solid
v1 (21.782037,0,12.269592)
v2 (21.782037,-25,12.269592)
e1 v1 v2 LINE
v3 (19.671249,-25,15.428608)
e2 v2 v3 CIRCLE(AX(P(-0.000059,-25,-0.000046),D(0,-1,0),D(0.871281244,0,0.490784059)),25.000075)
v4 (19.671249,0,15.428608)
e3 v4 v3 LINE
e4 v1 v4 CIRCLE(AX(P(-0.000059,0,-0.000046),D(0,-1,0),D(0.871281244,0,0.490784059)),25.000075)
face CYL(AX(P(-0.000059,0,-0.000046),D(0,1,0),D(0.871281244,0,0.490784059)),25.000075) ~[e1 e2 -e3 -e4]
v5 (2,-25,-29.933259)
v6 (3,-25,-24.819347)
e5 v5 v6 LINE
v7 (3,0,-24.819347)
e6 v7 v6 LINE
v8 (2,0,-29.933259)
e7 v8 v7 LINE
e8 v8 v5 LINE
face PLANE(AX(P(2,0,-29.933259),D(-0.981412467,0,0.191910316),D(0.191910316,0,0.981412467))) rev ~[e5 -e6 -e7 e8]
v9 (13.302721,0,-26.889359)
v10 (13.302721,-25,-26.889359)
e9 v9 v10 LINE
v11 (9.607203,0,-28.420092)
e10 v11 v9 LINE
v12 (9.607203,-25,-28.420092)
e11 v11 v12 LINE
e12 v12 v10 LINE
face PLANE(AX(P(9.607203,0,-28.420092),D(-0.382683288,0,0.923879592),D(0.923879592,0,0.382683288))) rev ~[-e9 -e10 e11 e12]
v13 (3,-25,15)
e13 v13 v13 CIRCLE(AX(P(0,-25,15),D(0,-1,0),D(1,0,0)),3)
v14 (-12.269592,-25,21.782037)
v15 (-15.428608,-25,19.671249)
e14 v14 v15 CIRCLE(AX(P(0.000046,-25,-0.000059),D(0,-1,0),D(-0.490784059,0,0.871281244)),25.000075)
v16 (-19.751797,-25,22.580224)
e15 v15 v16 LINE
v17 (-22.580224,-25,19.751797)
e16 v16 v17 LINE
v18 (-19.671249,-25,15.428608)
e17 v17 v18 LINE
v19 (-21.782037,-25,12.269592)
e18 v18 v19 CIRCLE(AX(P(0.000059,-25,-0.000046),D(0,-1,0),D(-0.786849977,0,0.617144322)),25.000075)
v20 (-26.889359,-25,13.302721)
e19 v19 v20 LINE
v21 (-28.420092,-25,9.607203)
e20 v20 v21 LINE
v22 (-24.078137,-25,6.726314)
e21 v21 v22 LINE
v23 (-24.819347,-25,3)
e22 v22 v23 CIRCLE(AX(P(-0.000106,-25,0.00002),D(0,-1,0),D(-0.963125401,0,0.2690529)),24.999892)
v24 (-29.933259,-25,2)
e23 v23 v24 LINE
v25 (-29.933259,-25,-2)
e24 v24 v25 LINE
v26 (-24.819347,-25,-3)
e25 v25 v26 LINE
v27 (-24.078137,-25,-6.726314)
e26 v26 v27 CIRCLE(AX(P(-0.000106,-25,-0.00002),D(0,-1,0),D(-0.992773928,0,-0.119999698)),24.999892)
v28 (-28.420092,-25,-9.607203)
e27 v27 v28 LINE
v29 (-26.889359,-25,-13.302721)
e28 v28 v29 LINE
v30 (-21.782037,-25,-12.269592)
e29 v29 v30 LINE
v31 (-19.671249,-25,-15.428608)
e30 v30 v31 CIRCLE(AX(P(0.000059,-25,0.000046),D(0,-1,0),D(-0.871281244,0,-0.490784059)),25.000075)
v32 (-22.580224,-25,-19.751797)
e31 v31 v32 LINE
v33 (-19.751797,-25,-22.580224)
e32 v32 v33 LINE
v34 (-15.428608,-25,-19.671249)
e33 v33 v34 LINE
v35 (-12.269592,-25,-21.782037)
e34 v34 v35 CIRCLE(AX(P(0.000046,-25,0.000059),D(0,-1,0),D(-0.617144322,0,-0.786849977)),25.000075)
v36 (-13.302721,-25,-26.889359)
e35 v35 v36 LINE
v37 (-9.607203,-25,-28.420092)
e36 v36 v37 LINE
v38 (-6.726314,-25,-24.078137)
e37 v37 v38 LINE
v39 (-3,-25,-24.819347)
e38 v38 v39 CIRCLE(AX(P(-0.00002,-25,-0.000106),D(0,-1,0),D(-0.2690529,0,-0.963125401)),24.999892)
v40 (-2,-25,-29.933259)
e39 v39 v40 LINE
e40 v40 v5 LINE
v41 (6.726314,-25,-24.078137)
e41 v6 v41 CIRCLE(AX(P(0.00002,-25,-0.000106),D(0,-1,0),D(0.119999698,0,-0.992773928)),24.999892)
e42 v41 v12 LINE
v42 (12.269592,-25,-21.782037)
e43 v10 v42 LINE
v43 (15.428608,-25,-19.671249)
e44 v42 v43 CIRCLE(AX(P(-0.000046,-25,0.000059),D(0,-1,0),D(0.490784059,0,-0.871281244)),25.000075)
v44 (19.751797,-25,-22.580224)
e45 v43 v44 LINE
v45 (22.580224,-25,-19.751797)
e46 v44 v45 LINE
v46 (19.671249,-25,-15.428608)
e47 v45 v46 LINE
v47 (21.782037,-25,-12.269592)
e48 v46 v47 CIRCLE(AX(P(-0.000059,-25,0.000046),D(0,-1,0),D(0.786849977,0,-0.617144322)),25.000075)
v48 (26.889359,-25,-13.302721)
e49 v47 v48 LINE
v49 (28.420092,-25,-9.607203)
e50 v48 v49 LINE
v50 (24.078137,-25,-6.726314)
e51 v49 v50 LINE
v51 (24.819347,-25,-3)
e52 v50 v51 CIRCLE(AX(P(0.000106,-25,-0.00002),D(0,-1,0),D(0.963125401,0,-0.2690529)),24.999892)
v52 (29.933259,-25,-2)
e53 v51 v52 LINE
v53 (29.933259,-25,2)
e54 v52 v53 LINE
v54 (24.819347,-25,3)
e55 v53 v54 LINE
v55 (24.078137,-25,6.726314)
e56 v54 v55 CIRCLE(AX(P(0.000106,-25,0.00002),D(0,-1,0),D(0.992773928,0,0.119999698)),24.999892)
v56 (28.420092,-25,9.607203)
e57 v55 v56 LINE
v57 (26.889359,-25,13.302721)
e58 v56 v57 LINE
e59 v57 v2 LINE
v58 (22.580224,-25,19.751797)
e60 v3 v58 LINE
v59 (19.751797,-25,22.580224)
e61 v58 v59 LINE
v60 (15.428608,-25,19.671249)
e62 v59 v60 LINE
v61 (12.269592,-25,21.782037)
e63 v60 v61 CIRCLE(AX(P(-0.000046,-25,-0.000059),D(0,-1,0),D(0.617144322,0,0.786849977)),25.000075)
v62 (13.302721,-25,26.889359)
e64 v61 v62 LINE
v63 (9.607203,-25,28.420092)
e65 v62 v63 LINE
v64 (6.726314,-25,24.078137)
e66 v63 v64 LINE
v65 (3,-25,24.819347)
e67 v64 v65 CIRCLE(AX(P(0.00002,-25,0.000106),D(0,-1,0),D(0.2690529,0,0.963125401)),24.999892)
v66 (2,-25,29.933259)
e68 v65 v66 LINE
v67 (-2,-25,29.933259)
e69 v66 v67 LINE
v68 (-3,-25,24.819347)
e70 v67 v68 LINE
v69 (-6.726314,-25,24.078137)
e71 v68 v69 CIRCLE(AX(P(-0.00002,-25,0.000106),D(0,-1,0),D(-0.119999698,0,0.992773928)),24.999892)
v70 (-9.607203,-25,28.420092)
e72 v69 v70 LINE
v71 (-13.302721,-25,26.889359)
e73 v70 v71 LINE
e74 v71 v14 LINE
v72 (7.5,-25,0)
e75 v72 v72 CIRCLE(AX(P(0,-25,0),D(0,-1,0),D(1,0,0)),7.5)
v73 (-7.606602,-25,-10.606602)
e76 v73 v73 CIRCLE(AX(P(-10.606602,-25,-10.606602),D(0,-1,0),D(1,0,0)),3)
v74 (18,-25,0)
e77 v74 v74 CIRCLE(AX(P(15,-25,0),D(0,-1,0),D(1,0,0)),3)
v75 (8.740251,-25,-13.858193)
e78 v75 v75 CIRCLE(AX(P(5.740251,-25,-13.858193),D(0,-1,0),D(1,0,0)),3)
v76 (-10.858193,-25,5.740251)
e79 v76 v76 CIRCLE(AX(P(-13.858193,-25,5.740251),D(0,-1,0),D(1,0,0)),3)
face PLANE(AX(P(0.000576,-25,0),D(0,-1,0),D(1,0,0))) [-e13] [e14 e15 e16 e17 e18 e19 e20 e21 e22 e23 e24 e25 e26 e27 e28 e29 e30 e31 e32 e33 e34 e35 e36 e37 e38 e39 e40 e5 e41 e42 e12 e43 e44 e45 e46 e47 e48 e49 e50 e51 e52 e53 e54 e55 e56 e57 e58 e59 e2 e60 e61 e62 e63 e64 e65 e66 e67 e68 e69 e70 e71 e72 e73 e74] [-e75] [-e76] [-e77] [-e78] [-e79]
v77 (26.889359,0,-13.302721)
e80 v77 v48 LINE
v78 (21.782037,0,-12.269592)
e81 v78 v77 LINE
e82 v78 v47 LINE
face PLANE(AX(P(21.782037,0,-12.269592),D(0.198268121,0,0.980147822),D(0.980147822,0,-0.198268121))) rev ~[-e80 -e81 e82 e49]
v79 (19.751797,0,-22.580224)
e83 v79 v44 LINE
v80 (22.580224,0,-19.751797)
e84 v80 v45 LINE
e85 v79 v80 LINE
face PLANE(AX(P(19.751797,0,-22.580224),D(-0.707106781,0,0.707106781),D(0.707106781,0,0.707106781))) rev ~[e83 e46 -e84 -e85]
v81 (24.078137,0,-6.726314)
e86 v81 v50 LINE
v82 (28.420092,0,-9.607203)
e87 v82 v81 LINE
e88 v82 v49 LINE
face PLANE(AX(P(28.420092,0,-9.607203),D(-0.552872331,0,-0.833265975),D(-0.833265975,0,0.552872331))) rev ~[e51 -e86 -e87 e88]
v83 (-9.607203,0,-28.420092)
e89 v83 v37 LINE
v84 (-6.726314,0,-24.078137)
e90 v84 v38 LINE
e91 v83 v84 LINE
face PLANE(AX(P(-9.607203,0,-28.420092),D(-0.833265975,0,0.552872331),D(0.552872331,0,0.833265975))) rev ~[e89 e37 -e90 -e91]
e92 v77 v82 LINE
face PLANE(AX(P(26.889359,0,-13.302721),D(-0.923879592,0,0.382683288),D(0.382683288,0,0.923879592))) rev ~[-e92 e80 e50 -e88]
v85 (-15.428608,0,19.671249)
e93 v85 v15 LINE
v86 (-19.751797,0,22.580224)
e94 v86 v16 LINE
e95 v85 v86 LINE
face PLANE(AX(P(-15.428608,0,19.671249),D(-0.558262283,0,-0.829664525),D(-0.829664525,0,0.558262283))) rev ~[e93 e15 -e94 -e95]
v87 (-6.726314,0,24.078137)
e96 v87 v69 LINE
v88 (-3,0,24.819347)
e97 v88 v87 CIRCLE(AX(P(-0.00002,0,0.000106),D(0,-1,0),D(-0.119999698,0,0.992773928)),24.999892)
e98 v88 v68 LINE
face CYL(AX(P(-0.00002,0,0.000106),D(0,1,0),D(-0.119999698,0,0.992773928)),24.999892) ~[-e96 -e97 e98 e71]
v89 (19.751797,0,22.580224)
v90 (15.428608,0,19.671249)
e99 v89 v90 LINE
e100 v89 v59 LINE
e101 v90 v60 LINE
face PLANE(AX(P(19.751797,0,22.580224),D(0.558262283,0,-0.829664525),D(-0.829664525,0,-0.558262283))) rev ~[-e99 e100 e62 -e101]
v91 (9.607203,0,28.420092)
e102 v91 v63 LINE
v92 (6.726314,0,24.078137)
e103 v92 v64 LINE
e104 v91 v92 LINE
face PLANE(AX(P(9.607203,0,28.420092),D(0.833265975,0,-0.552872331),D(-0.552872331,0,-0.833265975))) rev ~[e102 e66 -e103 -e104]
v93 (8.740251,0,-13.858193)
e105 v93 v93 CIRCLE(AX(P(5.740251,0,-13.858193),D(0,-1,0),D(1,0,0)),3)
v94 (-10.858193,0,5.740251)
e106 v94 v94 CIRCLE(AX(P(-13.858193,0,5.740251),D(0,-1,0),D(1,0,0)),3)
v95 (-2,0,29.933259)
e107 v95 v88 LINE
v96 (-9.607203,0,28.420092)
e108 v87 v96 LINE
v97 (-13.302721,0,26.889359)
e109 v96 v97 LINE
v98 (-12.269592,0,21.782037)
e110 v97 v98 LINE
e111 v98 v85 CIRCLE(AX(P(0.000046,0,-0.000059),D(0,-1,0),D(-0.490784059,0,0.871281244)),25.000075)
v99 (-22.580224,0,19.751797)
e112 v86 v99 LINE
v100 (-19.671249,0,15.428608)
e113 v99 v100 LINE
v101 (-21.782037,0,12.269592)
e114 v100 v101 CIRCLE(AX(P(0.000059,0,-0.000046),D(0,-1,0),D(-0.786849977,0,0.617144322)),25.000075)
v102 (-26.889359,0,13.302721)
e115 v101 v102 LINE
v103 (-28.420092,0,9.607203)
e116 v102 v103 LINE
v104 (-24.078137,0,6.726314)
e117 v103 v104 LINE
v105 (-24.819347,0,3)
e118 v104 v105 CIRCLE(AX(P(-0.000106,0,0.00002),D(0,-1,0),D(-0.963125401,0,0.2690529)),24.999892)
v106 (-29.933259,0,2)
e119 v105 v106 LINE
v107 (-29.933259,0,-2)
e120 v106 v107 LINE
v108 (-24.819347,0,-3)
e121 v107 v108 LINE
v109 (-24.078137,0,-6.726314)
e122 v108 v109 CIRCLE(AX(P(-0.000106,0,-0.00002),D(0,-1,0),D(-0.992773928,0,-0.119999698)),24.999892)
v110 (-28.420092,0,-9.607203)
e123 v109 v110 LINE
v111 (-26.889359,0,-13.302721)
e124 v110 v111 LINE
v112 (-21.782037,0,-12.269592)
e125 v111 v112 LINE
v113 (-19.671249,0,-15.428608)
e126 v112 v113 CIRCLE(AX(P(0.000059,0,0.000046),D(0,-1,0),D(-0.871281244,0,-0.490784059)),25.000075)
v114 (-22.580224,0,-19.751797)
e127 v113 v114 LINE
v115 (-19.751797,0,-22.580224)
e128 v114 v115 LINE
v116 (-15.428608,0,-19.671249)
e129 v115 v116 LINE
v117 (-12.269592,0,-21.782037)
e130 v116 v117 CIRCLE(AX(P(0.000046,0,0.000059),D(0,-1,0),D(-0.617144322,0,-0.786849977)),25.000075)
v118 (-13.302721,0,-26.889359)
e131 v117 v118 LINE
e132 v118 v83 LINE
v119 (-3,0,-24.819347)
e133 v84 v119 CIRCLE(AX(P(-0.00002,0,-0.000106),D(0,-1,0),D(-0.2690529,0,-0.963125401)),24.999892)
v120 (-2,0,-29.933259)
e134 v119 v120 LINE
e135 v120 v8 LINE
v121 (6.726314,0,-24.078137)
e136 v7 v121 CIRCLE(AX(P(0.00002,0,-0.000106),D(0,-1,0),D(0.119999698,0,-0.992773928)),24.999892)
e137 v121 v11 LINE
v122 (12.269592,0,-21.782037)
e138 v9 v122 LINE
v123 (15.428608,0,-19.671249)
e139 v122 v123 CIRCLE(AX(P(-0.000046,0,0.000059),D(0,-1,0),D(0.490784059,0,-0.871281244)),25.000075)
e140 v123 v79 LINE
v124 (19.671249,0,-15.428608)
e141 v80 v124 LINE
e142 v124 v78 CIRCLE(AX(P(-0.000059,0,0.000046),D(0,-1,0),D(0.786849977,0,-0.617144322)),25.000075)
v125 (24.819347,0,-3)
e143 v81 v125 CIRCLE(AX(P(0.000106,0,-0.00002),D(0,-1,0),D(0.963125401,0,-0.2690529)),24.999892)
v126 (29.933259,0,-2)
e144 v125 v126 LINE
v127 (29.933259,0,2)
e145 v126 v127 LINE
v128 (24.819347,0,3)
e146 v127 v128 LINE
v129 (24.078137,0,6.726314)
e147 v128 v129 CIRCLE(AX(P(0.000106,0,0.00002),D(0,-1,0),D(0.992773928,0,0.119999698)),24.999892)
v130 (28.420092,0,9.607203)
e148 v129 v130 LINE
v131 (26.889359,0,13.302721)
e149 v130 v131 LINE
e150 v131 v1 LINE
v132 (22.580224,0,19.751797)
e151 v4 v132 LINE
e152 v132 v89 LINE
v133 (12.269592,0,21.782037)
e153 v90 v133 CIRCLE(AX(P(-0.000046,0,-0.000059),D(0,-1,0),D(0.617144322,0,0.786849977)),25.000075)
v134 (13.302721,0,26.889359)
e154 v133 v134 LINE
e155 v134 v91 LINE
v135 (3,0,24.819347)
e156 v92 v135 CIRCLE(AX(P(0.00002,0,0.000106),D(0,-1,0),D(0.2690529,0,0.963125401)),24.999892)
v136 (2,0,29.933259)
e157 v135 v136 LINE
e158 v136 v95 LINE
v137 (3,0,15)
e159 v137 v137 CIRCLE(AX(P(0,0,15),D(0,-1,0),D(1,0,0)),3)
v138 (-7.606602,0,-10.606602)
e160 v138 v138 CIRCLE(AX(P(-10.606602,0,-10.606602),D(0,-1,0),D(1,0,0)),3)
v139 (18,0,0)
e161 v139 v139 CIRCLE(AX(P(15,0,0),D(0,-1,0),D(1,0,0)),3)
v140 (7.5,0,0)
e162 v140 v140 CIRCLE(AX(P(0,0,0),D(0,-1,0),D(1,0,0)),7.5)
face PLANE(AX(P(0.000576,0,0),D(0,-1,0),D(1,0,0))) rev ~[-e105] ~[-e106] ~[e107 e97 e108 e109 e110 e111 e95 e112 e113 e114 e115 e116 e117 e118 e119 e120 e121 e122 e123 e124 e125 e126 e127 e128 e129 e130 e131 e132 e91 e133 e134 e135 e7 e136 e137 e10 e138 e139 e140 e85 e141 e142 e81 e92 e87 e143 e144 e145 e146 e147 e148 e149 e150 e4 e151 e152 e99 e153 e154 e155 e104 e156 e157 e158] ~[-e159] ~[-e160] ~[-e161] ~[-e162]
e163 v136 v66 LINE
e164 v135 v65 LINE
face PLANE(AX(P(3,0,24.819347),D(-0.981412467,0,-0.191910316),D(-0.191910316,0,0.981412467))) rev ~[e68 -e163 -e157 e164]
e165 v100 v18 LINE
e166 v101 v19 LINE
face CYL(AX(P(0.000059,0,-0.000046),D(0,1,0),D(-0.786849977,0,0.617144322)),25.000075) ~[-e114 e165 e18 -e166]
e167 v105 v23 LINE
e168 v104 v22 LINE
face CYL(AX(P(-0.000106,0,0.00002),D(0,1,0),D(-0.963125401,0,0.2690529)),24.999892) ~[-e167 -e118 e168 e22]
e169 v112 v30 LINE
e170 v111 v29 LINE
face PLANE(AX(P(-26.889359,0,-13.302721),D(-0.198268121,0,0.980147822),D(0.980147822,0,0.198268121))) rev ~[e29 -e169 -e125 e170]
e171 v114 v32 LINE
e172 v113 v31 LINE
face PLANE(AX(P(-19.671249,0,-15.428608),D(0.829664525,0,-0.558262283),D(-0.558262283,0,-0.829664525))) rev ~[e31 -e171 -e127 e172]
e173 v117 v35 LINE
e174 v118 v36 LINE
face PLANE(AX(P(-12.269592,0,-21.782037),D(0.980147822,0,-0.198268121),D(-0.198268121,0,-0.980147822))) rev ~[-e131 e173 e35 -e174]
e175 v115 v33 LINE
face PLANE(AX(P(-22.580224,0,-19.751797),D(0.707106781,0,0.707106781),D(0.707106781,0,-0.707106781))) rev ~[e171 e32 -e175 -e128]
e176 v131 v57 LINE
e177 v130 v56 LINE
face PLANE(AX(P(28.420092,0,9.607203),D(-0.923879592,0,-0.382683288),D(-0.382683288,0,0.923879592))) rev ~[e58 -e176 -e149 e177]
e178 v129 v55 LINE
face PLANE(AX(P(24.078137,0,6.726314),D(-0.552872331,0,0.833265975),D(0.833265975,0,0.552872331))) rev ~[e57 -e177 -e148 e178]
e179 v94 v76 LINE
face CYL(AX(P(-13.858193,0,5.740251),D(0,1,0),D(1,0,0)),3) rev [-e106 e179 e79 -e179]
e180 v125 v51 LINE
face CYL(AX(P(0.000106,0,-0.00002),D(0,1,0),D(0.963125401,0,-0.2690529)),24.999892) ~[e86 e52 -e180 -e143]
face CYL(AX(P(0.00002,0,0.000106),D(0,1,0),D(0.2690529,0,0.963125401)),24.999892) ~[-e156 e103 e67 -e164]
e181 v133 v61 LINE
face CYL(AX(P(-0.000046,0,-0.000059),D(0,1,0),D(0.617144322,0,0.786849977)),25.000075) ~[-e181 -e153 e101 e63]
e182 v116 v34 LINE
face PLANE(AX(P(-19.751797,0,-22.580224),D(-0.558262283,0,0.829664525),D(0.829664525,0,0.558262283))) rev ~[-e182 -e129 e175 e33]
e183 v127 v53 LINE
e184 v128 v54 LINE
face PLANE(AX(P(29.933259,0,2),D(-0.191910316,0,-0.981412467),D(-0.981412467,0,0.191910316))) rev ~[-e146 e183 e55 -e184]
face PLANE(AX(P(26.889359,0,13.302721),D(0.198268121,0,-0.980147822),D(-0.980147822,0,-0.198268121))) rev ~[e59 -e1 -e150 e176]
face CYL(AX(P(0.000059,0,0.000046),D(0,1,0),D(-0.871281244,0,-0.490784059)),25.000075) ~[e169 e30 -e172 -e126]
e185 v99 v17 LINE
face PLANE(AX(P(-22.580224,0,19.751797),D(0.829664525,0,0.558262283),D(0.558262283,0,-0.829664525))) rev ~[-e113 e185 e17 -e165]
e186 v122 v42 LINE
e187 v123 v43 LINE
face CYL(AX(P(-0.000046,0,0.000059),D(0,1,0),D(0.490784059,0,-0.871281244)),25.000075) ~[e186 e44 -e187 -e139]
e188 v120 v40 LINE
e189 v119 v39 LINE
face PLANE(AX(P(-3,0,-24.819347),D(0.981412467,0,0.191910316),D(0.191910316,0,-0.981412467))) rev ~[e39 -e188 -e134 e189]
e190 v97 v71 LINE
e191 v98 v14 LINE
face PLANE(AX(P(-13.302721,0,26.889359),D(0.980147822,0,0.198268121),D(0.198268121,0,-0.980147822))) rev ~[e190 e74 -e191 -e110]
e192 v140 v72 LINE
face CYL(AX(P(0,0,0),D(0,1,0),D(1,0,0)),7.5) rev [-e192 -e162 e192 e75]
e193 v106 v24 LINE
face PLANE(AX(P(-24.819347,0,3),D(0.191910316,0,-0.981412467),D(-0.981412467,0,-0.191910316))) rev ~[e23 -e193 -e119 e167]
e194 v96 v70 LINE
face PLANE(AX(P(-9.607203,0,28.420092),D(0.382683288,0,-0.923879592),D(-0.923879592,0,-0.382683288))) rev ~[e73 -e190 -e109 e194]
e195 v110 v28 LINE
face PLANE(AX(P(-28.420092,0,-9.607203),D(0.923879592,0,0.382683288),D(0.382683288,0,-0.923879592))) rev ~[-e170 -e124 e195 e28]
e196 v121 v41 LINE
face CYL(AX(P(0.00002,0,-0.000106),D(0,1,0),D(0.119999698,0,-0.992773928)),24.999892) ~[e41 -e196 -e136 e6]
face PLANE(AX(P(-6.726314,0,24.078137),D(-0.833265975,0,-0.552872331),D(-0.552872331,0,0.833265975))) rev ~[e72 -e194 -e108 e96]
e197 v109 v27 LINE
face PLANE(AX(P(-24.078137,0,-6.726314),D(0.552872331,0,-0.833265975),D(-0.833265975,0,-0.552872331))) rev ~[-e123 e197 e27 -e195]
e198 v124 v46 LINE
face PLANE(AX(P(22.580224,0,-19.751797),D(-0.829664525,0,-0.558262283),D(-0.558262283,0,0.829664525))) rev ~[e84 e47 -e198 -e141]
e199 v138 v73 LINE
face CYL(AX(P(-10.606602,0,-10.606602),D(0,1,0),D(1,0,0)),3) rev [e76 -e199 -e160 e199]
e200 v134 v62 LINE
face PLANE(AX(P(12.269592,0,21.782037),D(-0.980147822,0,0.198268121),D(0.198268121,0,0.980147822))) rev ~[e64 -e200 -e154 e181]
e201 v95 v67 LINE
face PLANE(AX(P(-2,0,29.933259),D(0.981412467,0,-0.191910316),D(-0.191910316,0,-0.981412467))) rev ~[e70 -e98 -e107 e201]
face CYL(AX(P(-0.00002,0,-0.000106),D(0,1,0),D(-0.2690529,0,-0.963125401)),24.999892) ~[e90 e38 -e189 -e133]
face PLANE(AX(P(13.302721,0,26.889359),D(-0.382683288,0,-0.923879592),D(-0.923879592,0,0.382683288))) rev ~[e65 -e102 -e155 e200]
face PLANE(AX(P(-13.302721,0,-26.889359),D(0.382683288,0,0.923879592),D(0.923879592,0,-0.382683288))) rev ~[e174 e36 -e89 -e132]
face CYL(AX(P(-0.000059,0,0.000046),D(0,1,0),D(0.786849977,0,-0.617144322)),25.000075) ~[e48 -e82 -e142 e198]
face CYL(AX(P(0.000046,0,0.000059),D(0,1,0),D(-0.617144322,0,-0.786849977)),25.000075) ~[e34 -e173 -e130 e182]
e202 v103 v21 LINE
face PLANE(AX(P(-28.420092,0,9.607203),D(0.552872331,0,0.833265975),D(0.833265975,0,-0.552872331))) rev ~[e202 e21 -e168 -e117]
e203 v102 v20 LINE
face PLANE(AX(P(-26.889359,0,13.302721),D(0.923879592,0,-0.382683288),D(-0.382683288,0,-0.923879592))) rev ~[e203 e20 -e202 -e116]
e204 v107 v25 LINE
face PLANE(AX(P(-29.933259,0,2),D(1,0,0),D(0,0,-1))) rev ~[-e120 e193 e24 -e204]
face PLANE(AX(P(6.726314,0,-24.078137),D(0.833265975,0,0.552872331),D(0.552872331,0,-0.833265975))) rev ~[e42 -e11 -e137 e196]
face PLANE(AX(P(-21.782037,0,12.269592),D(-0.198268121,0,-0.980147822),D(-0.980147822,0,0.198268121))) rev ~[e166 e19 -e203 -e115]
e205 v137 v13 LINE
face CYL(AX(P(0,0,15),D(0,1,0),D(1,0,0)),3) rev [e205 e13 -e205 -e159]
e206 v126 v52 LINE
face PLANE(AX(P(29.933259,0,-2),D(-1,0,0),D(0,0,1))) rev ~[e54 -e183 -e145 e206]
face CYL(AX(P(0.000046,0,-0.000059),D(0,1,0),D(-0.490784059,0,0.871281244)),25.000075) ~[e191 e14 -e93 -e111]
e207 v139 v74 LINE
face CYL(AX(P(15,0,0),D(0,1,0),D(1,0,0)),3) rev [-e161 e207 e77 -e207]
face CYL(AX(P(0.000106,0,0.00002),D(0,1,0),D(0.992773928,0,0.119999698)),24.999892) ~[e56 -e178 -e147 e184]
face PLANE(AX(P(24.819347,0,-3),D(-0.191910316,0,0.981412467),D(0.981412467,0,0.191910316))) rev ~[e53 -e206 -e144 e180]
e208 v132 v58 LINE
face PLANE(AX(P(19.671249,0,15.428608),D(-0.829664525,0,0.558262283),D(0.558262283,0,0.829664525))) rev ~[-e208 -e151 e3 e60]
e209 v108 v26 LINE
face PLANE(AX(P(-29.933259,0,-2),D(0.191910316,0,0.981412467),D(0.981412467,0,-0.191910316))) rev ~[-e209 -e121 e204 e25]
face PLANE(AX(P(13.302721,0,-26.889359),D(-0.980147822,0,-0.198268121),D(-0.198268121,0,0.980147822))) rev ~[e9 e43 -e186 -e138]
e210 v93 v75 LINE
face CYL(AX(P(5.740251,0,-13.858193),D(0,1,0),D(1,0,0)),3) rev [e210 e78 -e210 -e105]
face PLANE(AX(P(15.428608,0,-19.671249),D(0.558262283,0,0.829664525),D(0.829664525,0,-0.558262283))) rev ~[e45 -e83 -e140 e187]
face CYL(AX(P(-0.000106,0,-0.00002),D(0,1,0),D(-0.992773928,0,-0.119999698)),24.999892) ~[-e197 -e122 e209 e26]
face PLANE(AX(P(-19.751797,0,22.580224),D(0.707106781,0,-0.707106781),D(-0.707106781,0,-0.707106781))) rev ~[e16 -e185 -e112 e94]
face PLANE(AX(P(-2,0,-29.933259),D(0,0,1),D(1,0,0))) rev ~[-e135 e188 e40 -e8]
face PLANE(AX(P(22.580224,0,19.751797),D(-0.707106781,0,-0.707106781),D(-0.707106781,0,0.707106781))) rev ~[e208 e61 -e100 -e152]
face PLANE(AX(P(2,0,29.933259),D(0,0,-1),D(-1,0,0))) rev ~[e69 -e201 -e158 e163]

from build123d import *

# Parameters (mm, degrees)
F0_R     = 3
F0_R_2   = 7.5
F1_DEPTH = 25


with BuildPart() as f1:
    # F0 (on Front) → F1 (new body)
    with BuildSketch(Plane.XZ):
        with BuildLine():
            ThreePointArc((24.819347, -3), (24.954796, -1.502717), (25, 0))
            ThreePointArc((25, 0), (24.954796, 1.502717), (24.819347, 3))
            ThreePointArc((24.819347, 3), (24.519632, 4.877258), (24.078137, 6.726314))
            ThreePointArc((24.078137, 6.726314), (23.096988, 9.567086), (21.782037, 12.269592))
            ThreePointArc((21.782037, 12.269592), (20.78674, 13.889256), (19.671249, 15.428608))
            ThreePointArc((19.671249, 15.428608), (17.67767, 17.67767), (15.428608, 19.671249))
            ThreePointArc((15.428608, 19.671249), (13.889256, 20.78674), (12.269592, 21.782037))
            ThreePointArc((12.269592, 21.782037), (9.567086, 23.096988), (6.726314, 24.078137))
            ThreePointArc((6.726314, 24.078137), (4.877258, 24.519632), (3, 24.819347))
            ThreePointArc((3, 24.819347), (0, 25), (-3, 24.819347))
            ThreePointArc((-3, 24.819347), (-4.877258, 24.519632), (-6.726314, 24.078137))
            ThreePointArc((-6.726314, 24.078137), (-9.567086, 23.096988), (-12.269592, 21.782037))
            ThreePointArc((-12.269592, 21.782037), (-13.889256, 20.78674), (-15.428608, 19.671249))
            ThreePointArc((-15.428608, 19.671249), (-17.67767, 17.67767), (-19.671249, 15.428608))
            ThreePointArc((-19.671249, 15.428608), (-20.78674, 13.889256), (-21.782037, 12.269592))
            ThreePointArc((-21.782037, 12.269592), (-23.096988, 9.567086), (-24.078137, 6.726314))
            ThreePointArc((-24.078137, 6.726314), (-24.519632, 4.877258), (-24.819347, 3))
            ThreePointArc((-24.819347, 3), (-25, 0), (-24.819347, -3))
            ThreePointArc((-24.819347, -3), (-24.519632, -4.877258), (-24.078137, -6.726314))
            ThreePointArc((-24.078137, -6.726314), (-23.096988, -9.567086), (-21.782037, -12.269592))
            ThreePointArc((-21.782037, -12.269592), (-20.78674, -13.889256), (-19.671249, -15.428608))
            ThreePointArc((-19.671249, -15.428608), (-17.67767, -17.67767), (-15.428608, -19.671249))
            ThreePointArc((-15.428608, -19.671249), (-13.889256, -20.78674), (-12.269592, -21.782037))
            ThreePointArc((-12.269592, -21.782037), (-9.567086, -23.096988), (-6.726314, -24.078137))
            ThreePointArc((-6.726314, -24.078137), (-4.877258, -24.519632), (-3, -24.819347))
            ThreePointArc((-3, -24.819347), (0, -25), (3, -24.819347))
            ThreePointArc((3, -24.819347), (4.877258, -24.519632), (6.726314, -24.078137))
            ThreePointArc((6.726314, -24.078137), (9.567086, -23.096988), (12.269592, -21.782037))
            ThreePointArc((12.269592, -21.782037), (13.889256, -20.78674), (15.428608, -19.671249))
            ThreePointArc((15.428608, -19.671249), (17.67767, -17.67767), (19.671249, -15.428608))
            ThreePointArc((19.671249, -15.428608), (20.78674, -13.889256), (21.782037, -12.269592))
            ThreePointArc((21.782037, -12.269592), (23.096988, -9.567086), (24.078137, -6.726314))
            ThreePointArc((24.078137, -6.726314), (24.519632, -4.877258), (24.819347, -3))
        make_face()
        with Locations((-10.606602, -10.606602)):
            Circle(F0_R, mode=Mode.SUBTRACT)
        with Locations((5.740251, -13.858193)):
            Circle(F0_R, mode=Mode.SUBTRACT)
        with Locations((-13.858193, 5.740251)):
            Circle(F0_R, mode=Mode.SUBTRACT)
        Circle(F0_R_2, mode=Mode.SUBTRACT)
        with Locations((15, 0)):
            Circle(F0_R, mode=Mode.SUBTRACT)
        with Locations((0, 15)):
            Circle(F0_R, mode=Mode.SUBTRACT)
        with BuildLine():
            ThreePointArc((24.819347, 3), (24.954796, 1.502717), (25, 0))
            ThreePointArc((25, 0), (24.954796, -1.502717), (24.819347, -3))
            Line((24.819347, -3), (29.933259, -2))
            Line((29.933259, -2), (29.933259, 2))
            Line((29.933259, 2), (24.819347, 3))
        make_face()
        with BuildLine():
            ThreePointArc((21.782037, 12.269592), (23.096988, 9.567086), (24.078137, 6.726314))
            Line((24.078137, 6.726314), (28.420092, 9.607203))
            Line((28.420092, 9.607203), (26.889359, 13.302721))
            Line((26.889359, 13.302721), (21.782037, 12.269592))
        make_face()
        with BuildLine():
            Line((28.420092, -9.607203), (24.078137, -6.726314))
            ThreePointArc((24.078137, -6.726314), (23.096988, -9.567086), (21.782037, -12.269592))
            Line((21.782037, -12.269592), (26.889359, -13.302721))
            Line((26.889359, -13.302721), (28.420092, -9.607203))
        make_face()
        with BuildLine():
            ThreePointArc((15.428608, 19.671249), (17.67767, 17.67767), (19.671249, 15.428608))
            Line((19.671249, 15.428608), (22.580224, 19.751797))
            Line((22.580224, 19.751797), (19.751797, 22.580224))
            Line((19.751797, 22.580224), (15.428608, 19.671249))
        make_face()
        with BuildLine():
            Line((22.580224, -19.751797), (19.671249, -15.428608))
            ThreePointArc((19.671249, -15.428608), (17.67767, -17.67767), (15.428608, -19.671249))
            Line((15.428608, -19.671249), (19.751797, -22.580224))
            Line((19.751797, -22.580224), (22.580224, -19.751797))
        make_face()
        with BuildLine():
            ThreePointArc((6.726314, 24.078137), (9.567086, 23.096988), (12.269592, 21.782037))
            Line((12.269592, 21.782037), (13.302721, 26.889359))
            Line((13.302721, 26.889359), (9.607203, 28.420092))
            Line((9.607203, 28.420092), (6.726314, 24.078137))
        make_face()
        with BuildLine():
            Line((13.302721, -26.889359), (12.269592, -21.782037))
            ThreePointArc((12.269592, -21.782037), (9.567086, -23.096988), (6.726314, -24.078137))
            Line((6.726314, -24.078137), (9.607203, -28.420092))
            Line((9.607203, -28.420092), (13.302721, -26.889359))
        make_face()
        with BuildLine():
            ThreePointArc((-3, 24.819347), (0, 25), (3, 24.819347))
            Line((3, 24.819347), (2, 29.933259))
            Line((2, 29.933259), (-2, 29.933259))
            Line((-2, 29.933259), (-3, 24.819347))
        make_face()
        with BuildLine():
            Line((2, -29.933259), (3, -24.819347))
            ThreePointArc((3, -24.819347), (0, -25), (-3, -24.819347))
            Line((-3, -24.819347), (-2, -29.933259))
            Line((-2, -29.933259), (2, -29.933259))
        make_face()
        with BuildLine():
            ThreePointArc((-12.269592, 21.782037), (-9.567086, 23.096988), (-6.726314, 24.078137))
            Line((-6.726314, 24.078137), (-9.607203, 28.420092))
            Line((-9.607203, 28.420092), (-13.302721, 26.889359))
            Line((-13.302721, 26.889359), (-12.269592, 21.782037))
        make_face()
        with BuildLine():
            Line((-9.607203, -28.420092), (-6.726314, -24.078137))
            ThreePointArc((-6.726314, -24.078137), (-9.567086, -23.096988), (-12.269592, -21.782037))
            Line((-12.269592, -21.782037), (-13.302721, -26.889359))
            Line((-13.302721, -26.889359), (-9.607203, -28.420092))
        make_face()
        with BuildLine():
            ThreePointArc((-19.671249, 15.428608), (-17.67767, 17.67767), (-15.428608, 19.671249))
            Line((-15.428608, 19.671249), (-19.751797, 22.580224))
            Line((-19.751797, 22.580224), (-22.580224, 19.751797))
            Line((-22.580224, 19.751797), (-19.671249, 15.428608))
        make_face()
        with BuildLine():
            Line((-19.751797, -22.580224), (-15.428608, -19.671249))
            ThreePointArc((-15.428608, -19.671249), (-17.67767, -17.67767), (-19.671249, -15.428608))
            Line((-19.671249, -15.428608), (-22.580224, -19.751797))
            Line((-22.580224, -19.751797), (-19.751797, -22.580224))
        make_face()
        with BuildLine():
            ThreePointArc((-24.078137, 6.726314), (-23.096988, 9.567086), (-21.782037, 12.269592))
            Line((-21.782037, 12.269592), (-26.889359, 13.302721))
            Line((-26.889359, 13.302721), (-28.420092, 9.607203))
            Line((-28.420092, 9.607203), (-24.078137, 6.726314))
        make_face()
        with BuildLine():
            Line((-26.889359, -13.302721), (-21.782037, -12.269592))
            ThreePointArc((-21.782037, -12.269592), (-23.096988, -9.567086), (-24.078137, -6.726314))
            Line((-24.078137, -6.726314), (-28.420092, -9.607203))
            Line((-28.420092, -9.607203), (-26.889359, -13.302721))
        make_face()
        with BuildLine():
            ThreePointArc((-24.819347, -3), (-25, 0), (-24.819347, 3))
            Line((-24.819347, 3), (-29.933259, 2))
            Line((-29.933259, 2), (-29.933259, -2))
            Line((-29.933259, -2), (-24.819347, -3))
        make_face()
    extrude(amount=F1_DEPTH)


solid = f1.part
